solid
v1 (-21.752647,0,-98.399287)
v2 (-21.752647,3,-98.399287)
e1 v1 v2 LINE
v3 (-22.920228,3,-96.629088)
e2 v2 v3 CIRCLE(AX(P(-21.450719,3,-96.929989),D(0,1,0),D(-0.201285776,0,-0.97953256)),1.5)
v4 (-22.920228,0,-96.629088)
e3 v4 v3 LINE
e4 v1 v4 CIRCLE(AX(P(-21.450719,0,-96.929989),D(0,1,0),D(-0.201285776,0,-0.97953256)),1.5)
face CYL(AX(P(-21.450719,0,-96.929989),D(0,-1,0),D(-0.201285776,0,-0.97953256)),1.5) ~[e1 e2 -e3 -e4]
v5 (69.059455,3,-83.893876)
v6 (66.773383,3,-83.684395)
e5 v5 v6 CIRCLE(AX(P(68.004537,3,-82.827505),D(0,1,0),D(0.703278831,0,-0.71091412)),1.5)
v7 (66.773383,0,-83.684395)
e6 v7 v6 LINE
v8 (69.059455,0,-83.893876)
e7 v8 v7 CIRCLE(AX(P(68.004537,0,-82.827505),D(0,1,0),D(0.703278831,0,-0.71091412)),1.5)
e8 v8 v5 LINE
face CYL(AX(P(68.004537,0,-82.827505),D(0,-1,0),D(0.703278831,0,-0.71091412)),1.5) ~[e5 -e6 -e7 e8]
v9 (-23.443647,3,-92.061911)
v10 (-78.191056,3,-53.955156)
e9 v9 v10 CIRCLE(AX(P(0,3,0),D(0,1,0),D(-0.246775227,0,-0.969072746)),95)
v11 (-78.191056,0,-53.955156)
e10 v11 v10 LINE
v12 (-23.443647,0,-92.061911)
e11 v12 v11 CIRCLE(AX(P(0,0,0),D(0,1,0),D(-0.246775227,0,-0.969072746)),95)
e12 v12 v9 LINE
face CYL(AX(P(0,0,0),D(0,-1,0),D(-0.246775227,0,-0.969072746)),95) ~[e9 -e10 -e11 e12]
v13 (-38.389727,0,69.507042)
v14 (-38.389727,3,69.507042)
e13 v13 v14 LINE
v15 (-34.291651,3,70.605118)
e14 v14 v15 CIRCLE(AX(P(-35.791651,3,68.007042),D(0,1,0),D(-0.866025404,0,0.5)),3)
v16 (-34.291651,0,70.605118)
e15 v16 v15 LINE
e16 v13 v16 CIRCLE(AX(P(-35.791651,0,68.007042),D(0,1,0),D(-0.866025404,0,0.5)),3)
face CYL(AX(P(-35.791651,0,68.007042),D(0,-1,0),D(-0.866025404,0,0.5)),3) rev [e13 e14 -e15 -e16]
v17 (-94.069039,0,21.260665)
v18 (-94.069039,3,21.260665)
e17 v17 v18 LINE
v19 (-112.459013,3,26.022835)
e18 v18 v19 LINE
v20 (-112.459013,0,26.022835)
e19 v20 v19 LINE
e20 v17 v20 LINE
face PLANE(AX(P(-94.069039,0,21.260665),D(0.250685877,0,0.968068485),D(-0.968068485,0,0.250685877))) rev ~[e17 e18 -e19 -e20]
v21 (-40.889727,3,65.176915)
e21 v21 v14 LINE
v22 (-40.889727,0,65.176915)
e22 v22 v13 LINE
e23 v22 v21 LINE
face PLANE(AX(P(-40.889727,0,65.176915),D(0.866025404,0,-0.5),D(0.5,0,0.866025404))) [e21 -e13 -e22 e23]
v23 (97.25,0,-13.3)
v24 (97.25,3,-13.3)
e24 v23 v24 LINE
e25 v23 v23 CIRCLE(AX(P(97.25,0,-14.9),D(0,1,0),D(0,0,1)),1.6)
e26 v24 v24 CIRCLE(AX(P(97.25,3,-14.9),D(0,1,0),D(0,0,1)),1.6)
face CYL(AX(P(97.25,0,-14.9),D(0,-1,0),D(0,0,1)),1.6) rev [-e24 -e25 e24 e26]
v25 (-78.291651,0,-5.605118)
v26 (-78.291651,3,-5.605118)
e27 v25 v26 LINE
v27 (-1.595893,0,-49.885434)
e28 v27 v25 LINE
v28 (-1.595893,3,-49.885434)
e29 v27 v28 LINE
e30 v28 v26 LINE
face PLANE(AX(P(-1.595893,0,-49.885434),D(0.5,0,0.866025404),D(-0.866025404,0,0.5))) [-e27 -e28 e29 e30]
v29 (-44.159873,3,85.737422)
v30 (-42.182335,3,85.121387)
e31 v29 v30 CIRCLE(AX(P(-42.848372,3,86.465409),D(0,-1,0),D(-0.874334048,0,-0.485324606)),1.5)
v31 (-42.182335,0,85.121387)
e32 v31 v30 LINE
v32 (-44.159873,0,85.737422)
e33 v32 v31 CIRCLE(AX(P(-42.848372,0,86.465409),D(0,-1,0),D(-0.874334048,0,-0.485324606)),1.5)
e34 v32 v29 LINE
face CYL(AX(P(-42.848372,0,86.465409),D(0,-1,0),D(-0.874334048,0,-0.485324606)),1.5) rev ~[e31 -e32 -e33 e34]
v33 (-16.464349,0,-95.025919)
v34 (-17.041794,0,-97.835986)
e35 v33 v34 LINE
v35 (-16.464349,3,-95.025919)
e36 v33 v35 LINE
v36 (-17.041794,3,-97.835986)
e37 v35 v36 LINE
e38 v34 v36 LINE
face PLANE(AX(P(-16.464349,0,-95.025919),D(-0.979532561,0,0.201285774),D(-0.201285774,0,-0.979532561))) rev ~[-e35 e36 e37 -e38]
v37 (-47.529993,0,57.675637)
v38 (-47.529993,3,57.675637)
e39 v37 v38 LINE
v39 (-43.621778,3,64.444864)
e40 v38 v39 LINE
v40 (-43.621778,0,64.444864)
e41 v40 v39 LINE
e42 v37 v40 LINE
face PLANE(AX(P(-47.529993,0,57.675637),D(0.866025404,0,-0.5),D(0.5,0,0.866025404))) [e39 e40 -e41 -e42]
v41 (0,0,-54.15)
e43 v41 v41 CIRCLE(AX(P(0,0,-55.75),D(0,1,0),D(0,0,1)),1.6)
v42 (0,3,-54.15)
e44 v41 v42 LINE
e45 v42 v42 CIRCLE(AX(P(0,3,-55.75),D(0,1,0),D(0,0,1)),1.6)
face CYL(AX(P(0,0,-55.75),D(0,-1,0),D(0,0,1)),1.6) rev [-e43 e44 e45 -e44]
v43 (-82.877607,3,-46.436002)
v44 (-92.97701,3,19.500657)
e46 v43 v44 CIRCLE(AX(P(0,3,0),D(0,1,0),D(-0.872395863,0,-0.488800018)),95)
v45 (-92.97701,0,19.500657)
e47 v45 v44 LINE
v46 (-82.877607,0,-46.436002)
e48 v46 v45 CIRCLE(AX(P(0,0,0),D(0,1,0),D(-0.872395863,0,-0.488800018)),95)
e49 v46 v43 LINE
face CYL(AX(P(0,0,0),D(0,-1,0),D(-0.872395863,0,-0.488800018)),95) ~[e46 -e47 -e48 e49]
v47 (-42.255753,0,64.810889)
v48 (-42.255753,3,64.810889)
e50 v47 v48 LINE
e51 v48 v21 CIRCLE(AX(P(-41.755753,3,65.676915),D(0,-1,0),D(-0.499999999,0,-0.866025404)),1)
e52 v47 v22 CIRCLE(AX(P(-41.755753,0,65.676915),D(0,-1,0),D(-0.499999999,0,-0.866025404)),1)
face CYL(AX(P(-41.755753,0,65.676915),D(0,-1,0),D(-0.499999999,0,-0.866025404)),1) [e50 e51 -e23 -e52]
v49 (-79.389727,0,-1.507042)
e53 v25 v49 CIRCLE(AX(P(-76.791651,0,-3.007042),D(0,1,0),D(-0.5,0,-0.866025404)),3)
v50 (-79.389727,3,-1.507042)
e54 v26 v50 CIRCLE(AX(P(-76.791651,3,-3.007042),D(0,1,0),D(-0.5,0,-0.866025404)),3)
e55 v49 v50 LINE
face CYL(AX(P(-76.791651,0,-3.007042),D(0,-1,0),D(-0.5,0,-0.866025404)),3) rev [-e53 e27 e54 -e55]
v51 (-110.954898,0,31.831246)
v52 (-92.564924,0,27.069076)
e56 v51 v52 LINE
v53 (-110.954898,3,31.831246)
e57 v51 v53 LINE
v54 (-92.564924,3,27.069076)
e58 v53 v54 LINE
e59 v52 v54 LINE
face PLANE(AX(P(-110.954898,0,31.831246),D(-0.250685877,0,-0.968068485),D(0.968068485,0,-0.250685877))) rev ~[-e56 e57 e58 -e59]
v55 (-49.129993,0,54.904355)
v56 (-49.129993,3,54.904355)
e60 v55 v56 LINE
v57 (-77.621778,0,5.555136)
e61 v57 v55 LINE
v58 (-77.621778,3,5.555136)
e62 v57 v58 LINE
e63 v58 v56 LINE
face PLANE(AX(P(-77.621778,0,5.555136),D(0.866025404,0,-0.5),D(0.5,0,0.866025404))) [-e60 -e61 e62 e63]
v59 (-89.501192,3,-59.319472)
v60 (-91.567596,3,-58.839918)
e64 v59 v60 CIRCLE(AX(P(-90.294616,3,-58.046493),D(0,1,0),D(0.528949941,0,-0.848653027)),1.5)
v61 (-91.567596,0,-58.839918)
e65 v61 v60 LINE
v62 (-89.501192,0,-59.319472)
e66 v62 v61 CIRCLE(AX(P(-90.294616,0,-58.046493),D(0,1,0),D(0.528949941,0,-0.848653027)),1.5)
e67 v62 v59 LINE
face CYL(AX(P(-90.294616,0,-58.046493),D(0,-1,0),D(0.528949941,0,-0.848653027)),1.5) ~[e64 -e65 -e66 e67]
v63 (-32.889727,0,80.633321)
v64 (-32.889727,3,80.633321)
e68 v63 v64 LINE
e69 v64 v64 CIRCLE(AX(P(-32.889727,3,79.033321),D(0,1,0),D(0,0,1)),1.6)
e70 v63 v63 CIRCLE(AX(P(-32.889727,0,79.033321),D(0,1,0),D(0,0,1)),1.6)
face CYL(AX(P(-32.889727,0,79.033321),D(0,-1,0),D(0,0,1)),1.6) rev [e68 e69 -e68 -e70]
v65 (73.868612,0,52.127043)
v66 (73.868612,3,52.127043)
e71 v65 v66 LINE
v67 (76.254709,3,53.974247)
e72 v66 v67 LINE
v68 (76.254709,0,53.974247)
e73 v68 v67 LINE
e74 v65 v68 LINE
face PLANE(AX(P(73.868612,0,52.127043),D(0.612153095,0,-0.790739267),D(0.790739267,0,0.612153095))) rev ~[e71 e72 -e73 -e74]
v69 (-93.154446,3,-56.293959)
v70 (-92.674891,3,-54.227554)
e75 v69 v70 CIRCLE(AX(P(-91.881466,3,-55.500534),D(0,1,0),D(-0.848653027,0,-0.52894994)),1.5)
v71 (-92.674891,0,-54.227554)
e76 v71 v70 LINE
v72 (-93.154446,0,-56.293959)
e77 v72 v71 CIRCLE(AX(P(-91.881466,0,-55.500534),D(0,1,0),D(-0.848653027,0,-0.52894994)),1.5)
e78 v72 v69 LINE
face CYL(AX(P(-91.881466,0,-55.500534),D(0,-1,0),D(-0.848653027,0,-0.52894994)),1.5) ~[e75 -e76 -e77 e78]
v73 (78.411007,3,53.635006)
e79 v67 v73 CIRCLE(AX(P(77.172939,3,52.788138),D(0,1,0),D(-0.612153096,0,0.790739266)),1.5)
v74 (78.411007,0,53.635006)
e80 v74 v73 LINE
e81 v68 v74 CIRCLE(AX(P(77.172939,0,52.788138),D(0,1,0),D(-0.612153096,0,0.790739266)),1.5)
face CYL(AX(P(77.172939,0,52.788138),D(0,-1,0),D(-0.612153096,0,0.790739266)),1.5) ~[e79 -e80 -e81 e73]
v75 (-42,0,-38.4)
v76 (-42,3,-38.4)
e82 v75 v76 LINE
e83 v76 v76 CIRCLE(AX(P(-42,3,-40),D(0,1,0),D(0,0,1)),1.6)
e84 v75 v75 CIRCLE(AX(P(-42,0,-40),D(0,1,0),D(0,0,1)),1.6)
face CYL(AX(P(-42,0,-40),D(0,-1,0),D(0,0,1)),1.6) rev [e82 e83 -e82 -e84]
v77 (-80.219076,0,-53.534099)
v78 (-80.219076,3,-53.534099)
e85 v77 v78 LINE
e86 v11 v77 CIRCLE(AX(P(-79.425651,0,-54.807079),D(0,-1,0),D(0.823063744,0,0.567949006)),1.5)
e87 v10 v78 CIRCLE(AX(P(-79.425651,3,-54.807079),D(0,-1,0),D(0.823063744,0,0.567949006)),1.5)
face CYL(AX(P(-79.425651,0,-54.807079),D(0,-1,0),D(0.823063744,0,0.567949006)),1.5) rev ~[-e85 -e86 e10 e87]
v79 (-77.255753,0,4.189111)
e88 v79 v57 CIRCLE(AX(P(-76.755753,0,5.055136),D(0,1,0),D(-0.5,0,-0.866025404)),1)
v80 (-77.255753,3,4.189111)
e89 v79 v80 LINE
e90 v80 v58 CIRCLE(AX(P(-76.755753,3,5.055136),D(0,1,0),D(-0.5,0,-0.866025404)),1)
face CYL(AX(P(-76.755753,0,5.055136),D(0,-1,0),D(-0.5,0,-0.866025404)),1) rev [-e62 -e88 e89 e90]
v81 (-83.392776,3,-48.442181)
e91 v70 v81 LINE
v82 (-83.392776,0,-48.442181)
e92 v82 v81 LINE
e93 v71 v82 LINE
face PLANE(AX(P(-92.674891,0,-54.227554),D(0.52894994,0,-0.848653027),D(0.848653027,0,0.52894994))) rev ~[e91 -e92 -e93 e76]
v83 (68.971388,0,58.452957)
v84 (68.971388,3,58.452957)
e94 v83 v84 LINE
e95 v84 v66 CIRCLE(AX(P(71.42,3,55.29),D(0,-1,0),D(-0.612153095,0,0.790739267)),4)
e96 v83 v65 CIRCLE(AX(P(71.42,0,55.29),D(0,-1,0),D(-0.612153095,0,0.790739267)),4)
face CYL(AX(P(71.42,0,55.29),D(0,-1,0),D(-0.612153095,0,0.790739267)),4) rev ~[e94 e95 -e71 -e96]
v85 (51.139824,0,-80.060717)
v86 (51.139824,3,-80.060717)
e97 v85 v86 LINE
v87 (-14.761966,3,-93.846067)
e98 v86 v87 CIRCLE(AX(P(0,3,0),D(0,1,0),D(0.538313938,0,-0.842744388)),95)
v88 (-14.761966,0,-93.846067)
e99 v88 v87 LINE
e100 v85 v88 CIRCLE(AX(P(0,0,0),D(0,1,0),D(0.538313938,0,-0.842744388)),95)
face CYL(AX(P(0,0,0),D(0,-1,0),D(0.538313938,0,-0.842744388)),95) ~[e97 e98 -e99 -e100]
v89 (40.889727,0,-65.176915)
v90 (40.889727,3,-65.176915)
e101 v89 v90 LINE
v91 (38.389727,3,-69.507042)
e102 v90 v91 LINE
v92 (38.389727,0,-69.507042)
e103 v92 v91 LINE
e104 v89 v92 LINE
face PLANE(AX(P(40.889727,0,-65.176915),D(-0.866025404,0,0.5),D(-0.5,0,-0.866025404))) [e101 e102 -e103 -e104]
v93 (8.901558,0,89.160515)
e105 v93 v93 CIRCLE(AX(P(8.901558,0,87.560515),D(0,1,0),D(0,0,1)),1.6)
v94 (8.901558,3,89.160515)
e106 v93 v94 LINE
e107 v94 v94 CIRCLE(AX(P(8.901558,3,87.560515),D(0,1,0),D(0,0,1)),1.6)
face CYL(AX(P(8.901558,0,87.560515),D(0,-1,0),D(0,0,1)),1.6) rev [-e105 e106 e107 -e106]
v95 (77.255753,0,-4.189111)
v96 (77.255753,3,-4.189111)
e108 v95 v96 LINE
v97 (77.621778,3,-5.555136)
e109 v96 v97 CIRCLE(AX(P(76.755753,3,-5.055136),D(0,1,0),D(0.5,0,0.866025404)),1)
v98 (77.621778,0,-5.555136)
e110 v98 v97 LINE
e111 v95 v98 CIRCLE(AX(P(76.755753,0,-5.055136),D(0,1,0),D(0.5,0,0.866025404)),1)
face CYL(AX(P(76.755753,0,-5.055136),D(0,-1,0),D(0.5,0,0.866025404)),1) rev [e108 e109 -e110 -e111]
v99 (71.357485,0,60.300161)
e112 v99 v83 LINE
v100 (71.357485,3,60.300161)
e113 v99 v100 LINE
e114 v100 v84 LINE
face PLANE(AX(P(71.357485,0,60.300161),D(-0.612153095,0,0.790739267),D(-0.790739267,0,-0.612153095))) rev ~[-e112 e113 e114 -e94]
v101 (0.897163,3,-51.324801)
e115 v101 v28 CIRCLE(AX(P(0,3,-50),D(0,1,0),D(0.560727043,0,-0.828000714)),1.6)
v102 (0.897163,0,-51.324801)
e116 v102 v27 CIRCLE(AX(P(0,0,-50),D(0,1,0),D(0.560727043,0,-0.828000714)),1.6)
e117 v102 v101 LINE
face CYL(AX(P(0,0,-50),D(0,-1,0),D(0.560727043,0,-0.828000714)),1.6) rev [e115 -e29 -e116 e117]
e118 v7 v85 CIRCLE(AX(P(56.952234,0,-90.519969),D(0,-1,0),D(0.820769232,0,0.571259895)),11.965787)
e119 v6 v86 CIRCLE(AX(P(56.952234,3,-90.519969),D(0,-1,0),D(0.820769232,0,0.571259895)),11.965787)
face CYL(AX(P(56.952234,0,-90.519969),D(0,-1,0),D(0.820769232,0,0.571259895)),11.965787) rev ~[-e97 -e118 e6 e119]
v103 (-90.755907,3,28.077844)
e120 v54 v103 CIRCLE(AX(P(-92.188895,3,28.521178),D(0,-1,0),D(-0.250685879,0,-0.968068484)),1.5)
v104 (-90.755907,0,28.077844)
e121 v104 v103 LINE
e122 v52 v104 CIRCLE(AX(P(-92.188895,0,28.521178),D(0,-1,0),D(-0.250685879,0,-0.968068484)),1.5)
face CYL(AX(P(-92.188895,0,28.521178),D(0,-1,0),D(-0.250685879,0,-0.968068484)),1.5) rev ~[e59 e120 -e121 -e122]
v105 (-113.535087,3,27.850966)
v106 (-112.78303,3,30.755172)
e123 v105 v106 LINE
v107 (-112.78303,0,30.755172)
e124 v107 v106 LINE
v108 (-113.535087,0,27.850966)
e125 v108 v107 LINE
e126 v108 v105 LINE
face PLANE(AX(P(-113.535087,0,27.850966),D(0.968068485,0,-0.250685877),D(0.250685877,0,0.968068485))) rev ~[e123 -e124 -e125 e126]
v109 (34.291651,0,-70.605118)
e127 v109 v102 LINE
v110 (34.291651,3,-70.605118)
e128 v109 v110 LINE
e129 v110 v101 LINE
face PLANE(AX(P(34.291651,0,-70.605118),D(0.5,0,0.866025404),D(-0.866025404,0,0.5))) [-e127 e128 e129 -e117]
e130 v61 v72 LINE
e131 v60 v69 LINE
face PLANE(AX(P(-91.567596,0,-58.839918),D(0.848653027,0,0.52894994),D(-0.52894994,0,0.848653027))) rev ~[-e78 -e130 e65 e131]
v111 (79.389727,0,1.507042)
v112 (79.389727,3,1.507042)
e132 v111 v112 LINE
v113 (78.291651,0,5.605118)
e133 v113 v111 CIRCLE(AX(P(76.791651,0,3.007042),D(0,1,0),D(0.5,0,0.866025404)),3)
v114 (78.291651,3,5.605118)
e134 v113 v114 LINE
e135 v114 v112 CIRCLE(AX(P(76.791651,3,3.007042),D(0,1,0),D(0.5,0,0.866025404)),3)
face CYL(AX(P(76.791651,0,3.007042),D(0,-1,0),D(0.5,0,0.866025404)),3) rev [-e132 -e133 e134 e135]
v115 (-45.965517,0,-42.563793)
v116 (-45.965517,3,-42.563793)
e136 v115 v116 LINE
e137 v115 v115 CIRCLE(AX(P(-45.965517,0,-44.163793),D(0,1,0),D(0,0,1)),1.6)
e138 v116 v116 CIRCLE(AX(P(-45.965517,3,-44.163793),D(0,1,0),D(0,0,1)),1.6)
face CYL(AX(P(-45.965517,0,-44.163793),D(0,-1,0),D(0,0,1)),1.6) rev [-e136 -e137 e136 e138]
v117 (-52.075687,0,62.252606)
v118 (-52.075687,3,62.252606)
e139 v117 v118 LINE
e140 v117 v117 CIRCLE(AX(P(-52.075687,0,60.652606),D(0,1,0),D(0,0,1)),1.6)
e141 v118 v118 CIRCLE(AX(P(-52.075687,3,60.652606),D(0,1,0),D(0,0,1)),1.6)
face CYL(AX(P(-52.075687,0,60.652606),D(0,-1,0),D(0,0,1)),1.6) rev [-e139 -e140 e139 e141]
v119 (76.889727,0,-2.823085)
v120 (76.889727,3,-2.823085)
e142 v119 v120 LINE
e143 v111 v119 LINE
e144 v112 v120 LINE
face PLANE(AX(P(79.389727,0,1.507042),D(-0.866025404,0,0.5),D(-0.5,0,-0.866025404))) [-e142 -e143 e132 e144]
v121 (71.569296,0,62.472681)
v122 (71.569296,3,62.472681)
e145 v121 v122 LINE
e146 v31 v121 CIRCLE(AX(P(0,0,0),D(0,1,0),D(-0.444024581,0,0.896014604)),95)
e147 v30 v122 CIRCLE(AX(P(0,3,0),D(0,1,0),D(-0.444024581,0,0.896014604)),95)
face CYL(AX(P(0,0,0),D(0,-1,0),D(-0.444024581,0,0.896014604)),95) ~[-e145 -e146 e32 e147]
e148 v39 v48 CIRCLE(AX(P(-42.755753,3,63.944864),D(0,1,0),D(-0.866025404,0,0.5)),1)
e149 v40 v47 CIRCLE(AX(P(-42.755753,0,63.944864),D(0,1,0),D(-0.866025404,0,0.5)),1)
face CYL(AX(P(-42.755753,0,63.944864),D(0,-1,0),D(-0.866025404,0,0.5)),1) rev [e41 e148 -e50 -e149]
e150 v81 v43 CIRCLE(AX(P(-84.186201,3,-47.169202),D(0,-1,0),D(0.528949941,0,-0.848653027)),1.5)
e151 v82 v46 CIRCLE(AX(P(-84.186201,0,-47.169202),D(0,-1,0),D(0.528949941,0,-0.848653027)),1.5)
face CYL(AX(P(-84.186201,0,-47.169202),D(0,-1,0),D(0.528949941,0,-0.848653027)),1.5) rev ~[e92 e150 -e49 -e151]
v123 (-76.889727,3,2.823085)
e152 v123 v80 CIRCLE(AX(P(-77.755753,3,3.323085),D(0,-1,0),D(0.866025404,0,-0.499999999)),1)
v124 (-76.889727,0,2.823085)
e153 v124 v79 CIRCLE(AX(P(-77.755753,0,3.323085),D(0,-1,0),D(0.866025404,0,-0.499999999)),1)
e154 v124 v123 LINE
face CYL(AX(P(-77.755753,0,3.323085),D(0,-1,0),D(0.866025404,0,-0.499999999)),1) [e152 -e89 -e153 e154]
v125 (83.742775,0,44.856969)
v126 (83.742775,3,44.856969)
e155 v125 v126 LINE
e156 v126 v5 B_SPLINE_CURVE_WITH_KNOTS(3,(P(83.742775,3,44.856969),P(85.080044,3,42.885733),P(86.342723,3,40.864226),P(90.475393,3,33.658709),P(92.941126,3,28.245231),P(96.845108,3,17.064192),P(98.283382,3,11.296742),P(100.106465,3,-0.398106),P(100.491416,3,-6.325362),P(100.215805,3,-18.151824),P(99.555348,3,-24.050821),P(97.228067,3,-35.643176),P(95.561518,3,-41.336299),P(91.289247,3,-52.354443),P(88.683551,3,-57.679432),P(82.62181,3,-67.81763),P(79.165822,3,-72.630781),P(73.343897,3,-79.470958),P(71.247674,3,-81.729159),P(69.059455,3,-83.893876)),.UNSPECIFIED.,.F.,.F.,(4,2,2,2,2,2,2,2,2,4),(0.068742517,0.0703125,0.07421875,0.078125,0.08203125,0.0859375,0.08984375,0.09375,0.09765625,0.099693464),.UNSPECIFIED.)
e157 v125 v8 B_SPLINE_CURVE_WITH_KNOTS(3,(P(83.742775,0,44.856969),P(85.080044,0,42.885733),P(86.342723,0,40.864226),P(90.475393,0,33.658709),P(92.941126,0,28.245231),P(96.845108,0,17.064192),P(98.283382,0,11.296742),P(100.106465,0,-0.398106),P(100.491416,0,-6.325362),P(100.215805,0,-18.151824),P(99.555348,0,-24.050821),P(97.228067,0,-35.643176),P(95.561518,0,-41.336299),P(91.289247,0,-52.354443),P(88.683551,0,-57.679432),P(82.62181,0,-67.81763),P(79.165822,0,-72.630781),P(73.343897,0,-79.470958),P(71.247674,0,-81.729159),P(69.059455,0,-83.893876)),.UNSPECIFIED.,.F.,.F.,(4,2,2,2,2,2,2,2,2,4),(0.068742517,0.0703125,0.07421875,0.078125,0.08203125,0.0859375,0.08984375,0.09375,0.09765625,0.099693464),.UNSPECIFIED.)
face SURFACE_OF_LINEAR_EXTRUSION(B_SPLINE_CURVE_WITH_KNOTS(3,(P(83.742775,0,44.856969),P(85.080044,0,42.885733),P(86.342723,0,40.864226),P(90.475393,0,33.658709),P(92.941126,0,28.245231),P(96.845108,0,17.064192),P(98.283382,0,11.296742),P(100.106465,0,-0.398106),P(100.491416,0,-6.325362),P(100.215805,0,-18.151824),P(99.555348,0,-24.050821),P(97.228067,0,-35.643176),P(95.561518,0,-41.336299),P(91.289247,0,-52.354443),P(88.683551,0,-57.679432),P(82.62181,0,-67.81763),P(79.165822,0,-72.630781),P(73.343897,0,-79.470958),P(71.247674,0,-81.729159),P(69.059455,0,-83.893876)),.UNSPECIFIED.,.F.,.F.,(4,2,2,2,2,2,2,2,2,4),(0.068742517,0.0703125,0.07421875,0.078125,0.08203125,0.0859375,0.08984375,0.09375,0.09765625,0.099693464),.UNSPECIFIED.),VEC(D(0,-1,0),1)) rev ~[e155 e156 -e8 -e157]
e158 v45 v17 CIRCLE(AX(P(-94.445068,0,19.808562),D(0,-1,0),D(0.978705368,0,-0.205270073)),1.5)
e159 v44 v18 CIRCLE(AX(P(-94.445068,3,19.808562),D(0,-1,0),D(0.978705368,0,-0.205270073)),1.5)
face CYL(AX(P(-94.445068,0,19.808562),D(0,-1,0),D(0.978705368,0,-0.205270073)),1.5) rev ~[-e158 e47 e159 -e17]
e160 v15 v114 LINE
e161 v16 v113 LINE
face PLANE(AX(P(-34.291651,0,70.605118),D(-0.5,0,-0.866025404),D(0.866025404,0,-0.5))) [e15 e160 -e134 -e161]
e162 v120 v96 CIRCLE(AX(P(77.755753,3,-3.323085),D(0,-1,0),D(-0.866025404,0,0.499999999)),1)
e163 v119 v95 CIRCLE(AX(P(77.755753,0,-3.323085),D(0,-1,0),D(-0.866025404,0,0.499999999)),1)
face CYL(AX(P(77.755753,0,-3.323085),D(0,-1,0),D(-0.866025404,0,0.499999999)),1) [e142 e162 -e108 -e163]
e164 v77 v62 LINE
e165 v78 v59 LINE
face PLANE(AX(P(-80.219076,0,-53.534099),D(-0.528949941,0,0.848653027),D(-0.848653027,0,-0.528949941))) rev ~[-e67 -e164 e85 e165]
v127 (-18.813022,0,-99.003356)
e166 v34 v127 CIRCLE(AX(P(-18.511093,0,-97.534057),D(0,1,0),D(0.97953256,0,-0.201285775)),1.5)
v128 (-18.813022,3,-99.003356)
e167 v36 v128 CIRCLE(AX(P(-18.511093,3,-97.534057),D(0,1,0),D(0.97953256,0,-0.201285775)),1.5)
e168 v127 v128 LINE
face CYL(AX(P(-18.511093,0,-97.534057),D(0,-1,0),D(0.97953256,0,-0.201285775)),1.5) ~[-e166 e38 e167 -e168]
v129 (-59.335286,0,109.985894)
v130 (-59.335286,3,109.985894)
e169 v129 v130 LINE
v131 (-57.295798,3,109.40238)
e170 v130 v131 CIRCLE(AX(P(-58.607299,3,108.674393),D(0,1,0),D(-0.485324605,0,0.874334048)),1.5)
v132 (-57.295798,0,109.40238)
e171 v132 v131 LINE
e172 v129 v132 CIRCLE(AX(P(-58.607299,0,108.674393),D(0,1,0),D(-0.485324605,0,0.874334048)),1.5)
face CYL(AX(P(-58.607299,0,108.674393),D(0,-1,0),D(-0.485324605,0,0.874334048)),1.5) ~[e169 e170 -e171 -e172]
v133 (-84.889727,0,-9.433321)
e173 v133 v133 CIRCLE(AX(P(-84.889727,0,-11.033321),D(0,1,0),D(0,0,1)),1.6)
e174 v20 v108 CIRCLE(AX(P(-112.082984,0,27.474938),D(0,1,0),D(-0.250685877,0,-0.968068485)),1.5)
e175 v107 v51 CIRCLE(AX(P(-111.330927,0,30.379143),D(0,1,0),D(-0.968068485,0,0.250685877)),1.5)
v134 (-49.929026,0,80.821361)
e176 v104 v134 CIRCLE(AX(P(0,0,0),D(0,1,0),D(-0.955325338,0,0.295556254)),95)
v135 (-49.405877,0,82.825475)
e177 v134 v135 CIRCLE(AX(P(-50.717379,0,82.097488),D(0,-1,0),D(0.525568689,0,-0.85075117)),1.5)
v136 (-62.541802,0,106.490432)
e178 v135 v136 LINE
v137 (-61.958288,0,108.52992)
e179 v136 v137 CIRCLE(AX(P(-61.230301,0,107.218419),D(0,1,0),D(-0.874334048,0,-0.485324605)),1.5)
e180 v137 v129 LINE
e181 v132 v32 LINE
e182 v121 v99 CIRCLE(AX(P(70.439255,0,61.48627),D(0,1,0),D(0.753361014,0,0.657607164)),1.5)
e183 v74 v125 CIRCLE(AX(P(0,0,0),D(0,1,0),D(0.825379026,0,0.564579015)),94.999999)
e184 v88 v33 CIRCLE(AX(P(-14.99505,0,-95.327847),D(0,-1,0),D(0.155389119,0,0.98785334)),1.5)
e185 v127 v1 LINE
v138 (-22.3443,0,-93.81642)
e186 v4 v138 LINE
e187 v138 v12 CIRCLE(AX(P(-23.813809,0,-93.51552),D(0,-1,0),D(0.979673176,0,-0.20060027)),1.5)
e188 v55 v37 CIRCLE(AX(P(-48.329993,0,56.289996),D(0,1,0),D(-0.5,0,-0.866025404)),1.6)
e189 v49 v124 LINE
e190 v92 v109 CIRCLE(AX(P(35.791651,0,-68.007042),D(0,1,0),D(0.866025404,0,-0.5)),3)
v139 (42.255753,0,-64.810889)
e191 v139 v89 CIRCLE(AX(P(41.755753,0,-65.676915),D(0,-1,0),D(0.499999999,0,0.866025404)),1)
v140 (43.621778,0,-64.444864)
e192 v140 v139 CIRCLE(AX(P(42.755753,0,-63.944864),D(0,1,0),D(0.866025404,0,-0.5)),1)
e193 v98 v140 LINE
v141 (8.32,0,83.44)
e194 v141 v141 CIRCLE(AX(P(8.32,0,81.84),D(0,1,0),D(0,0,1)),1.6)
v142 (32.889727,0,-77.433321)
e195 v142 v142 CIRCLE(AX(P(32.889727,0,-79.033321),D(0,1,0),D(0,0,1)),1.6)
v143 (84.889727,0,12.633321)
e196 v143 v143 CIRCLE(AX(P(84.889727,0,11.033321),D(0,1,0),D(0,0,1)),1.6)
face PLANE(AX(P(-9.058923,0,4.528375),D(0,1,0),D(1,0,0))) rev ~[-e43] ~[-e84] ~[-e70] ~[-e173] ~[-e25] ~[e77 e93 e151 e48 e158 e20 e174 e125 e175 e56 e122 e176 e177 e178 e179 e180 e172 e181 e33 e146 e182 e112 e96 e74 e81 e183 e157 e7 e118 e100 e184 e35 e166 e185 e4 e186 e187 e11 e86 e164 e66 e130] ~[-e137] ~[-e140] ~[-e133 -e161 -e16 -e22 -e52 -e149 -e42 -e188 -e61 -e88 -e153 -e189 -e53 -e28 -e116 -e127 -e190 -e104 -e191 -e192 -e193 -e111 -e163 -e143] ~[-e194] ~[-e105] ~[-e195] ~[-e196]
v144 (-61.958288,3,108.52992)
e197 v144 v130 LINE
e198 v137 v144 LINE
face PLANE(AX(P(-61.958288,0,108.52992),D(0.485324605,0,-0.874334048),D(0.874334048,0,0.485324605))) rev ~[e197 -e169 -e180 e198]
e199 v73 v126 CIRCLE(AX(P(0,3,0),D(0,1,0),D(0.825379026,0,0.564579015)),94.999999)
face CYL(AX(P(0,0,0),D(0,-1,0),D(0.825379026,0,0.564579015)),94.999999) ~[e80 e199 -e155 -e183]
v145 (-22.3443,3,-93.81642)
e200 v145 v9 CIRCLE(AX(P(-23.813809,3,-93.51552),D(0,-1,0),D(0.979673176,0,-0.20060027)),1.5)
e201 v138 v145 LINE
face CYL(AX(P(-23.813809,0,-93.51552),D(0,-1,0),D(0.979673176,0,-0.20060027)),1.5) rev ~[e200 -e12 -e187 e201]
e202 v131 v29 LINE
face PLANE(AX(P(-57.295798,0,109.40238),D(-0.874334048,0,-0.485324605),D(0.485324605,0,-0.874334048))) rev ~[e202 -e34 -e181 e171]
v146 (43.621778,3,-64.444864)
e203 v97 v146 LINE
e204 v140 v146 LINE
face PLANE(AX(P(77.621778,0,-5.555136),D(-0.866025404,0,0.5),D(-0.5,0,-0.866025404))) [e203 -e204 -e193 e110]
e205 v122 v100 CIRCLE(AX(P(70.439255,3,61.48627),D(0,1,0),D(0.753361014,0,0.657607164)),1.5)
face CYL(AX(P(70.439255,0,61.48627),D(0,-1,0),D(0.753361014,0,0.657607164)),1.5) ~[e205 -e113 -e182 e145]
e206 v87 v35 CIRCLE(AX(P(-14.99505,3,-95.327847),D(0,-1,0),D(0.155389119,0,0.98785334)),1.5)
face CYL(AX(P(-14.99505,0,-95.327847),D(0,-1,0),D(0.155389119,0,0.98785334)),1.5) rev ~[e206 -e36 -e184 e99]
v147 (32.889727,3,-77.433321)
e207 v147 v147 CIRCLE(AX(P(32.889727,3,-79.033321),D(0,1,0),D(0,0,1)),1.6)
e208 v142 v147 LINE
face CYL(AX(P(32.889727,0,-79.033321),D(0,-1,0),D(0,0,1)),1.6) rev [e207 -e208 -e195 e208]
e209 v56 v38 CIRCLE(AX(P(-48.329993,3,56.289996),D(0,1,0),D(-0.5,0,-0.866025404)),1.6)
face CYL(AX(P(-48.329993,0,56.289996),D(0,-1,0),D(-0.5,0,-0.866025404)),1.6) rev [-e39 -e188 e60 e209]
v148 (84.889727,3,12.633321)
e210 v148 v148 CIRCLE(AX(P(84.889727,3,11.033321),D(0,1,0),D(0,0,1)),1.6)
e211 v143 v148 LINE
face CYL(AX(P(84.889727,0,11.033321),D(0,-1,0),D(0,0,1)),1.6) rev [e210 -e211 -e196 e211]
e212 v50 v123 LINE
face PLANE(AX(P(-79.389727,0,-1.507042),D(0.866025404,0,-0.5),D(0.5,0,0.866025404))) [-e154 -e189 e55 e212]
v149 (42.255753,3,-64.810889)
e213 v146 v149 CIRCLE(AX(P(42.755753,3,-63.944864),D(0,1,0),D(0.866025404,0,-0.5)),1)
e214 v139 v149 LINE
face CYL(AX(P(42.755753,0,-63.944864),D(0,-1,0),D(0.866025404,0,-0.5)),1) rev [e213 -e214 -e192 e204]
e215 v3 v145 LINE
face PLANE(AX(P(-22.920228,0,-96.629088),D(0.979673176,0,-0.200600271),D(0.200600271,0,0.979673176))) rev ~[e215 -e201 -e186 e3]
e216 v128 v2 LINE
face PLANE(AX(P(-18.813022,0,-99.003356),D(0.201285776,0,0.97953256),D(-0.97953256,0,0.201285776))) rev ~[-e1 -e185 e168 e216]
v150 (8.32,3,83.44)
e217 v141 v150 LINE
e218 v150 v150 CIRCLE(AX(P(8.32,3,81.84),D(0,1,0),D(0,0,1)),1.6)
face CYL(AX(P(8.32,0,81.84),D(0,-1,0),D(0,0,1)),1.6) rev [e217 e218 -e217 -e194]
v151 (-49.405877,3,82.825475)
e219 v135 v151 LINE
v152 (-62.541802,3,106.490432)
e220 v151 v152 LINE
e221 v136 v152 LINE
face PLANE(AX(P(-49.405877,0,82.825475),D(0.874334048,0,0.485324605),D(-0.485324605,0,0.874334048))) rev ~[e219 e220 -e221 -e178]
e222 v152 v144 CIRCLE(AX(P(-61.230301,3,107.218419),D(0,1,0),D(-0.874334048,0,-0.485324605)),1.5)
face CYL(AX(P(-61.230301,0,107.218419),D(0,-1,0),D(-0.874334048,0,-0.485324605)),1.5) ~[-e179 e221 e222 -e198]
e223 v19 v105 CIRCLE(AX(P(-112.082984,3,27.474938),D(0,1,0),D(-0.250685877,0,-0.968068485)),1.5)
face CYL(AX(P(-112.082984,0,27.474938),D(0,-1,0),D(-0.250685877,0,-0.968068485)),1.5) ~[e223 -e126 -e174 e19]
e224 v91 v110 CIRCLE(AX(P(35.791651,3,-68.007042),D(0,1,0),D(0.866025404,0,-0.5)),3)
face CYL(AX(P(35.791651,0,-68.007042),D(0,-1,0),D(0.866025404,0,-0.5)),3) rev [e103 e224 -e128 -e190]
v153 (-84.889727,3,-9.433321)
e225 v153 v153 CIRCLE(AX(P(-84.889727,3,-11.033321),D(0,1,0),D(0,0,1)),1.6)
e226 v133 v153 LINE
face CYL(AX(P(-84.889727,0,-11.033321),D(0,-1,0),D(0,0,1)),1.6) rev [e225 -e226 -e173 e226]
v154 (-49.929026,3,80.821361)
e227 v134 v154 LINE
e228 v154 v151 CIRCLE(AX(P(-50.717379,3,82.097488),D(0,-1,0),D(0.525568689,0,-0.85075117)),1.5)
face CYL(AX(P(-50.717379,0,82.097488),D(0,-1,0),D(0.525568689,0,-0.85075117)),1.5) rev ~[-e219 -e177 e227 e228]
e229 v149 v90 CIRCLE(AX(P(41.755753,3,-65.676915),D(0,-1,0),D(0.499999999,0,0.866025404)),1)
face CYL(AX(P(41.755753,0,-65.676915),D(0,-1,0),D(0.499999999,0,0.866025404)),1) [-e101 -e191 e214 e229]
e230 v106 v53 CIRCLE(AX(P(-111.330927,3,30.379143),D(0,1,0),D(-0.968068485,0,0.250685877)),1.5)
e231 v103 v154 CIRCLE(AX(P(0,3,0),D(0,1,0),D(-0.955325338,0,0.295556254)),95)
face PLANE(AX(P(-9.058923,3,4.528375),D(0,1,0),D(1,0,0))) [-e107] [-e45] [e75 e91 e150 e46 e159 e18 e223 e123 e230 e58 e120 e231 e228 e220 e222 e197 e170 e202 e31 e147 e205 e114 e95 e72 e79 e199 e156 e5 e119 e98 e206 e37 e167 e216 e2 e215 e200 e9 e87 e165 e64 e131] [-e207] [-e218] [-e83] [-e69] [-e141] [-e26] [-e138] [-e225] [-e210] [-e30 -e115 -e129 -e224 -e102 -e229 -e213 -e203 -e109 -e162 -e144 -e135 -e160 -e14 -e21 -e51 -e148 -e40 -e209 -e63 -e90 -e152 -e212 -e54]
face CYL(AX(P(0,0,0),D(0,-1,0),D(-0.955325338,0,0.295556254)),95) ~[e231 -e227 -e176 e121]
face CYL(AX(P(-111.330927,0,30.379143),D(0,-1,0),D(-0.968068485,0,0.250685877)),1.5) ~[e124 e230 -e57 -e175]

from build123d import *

# Parameters (mm, degrees)
SKIZZE3_R                       = 1.6
AUFSATZ_LINEAR_AUSTRAGEN2_DEPTH = 3


with BuildPart() as part:
    # Skizze3 → Aufsatz-Linear austragen2 (new body)
    with BuildSketch(Plane(origin=(0, 0, 0), x_dir=(1, 0, 0), z_dir=(0, 1, 0))):
        with BuildLine():
            Line((-22.920228343, 96.629088178), (-22.344299626, 93.816420414))
            ThreePointArc((-22.344299626, 93.816420414), (-22.542717442, 92.719074618), (-23.44364655, 92.061910889))
            ThreePointArc((-23.44364655, 92.061910889), (-54.271856221, 77.97156932), (-78.191055718, 53.955155506))
            ThreePointArc((-78.191055718, 53.955155506), (-79.120725207, 53.338399316), (-80.219076246, 53.534099474))
            Line((-80.219076246, 53.534099474), (-89.501191513, 59.319472491))
            ThreePointArc((-89.501191513, 59.319472491), (-90.633712755, 59.507661551), (-91.567595966, 58.839917861))
            Line((-91.567595966, 58.839917861), (-93.154445785, 56.293958781))
            ThreePointArc((-93.154445785, 56.293958781), (-93.342634844, 55.161437539), (-92.674891154, 54.22755433))
            Line((-92.674891154, 54.22755433), (-83.39277588, 48.44218132))
            ThreePointArc((-83.39277588, 48.44218132), (-82.733338177, 47.542283842), (-82.877606996, 46.436001751))
            ThreePointArc((-82.877606996, 46.436001751), (-93.904857786, 14.383243174), (-92.977009936, -19.500656997))
            ThreePointArc((-92.977009936, -19.500656997), (-93.170481392, -20.599402805), (-94.069039172, -21.260664834))
            Line((-94.069039172, -21.260664834), (-112.45901324, -26.02283492))
            ThreePointArc((-112.45901324, -26.02283492), (-113.375668635, -26.714038487), (-113.535087151, -27.850966463))
            Line((-113.535087151, -27.850966463), (-112.78302952, -30.755171917))
            ThreePointArc((-112.78302952, -30.755171917), (-112.091825953, -31.671827312), (-110.954897977, -31.831245829))
            Line((-110.954897977, -31.831245829), (-92.56492391, -27.069075743))
            ThreePointArc((-92.56492391, -27.069075743), (-91.458351408, -27.211099875), (-90.755907088, -28.077844089))
            ThreePointArc((-90.755907088, -28.077844089), (-75.123446485, -58.150389407), (-49.929025507, -80.821361112))
            ThreePointArc((-49.929025507, -80.821361112), (-49.266012044, -81.71862735), (-49.405877469, -82.825474774))
            Line((-49.405877469, -82.825474774), (-62.541801916, -106.490431951))
            ThreePointArc((-62.541801916, -106.490431951), (-62.672436625, -107.631025681), (-61.958287752, -108.529919931))
            Line((-61.958287752, -108.529919931), (-59.335285607, -109.985893746))
            ThreePointArc((-59.335285607, -109.985893746), (-58.194691877, -110.116528455), (-57.295797627, -109.402379582))
            Line((-57.295797627, -109.402379582), (-44.159873181, -85.737422405))
            ThreePointArc((-44.159873181, -85.737422405), (-43.294500776, -85.033288783), (-42.182335236, -85.121387406))
            ThreePointArc((-42.182335236, -85.121387406), (18.550993294, -93.171136345), (71.569296393, -62.47268054))
            ThreePointArc((71.569296393, -62.47268054), (71.9321762, -61.340716002), (71.357484514, -60.300160894))
            Line((71.357484514, -60.300160894), (68.971387619, -58.452957067))
            ThreePointArc((68.971387619, -58.452957067), (68.257042933, -52.841387619), (73.868612381, -52.127042933))
            Line((73.868612381, -52.127042933), (76.254709276, -53.97424676))
            ThreePointArc((76.254709276, -53.97424676), (77.40605957, -54.269912054), (78.411007457, -53.635006381))
            ThreePointArc((78.411007457, -53.635006381), (81.195601848, -49.318092427), (83.742774792, -44.856969025))
            add(Edge.make_bspline(
                [(83.742774792, -44.856969025), (85.080044201, -42.885733183), (86.342723056, -40.864226462), (90.475393107, -33.658708882), (92.941125683, -28.24523113), (96.845107593, -17.06419167), (98.283381771, -11.296742285), (100.106464604, 0.398106312), (100.491415891, 6.325362035), (100.215805302, 18.151824424), (99.555347906, 24.050820899), (97.228067455, 35.64317623), (95.561517803, 41.336299316), (91.289247265, 52.354443321), (88.683550867, 57.679431674), (82.621810162, 67.817630372), (79.16582226, 72.63078095), (73.343896748, 79.470957727), (71.24767403, 81.729158793), (69.059455254, 83.893875883)],
                knots=[0.068742517, 0.068742517, 0.068742517, 0.068742517, 0.0703125, 0.0703125, 0.07421875, 0.07421875, 0.078125, 0.078125, 0.08203125, 0.08203125, 0.0859375, 0.0859375, 0.08984375, 0.08984375, 0.09375, 0.09375, 0.09765625, 0.09765625, 0.099693464, 0.099693464, 0.099693464, 0.099693464], degree=3))
            ThreePointArc((69.059455254, 83.893875883), (67.867659856, 84.321246531), (66.773383158, 83.684394547))
            ThreePointArc((66.773383158, 83.684394547), (59.654132804, 78.863219836), (51.13982414, 80.060716878))
            ThreePointArc((51.13982414, 80.060716878), (19.451120952, 92.98738567), (-14.761966333, 93.846067312))
            ThreePointArc((-14.761966333, 93.846067312), (-15.84949093, 94.09499262), (-16.464348853, 95.025918661))
            Line((-16.464348853, 95.025918661), (-17.041794218, 97.835985787))
            ThreePointArc((-17.041794218, 97.835985787), (-17.68563769, 98.786504104), (-18.813021723, 99.003355966))
            Line((-18.813021723, 99.003355966), (-21.752647244, 98.399287425))
            ThreePointArc((-21.752647244, 98.399287425), (-22.702876664, 97.75588212), (-22.920228343, 96.629088178))
        make_face()
        with Locations(Location((-84.889727457, 11.033320997, 0), (0, 0, 270))):
            Circle(SKIZZE3_R, mode=Mode.SUBTRACT)
        with Locations(Location((32.889727457, 79.033320997, 0), (0, 0, 270))):
            Circle(SKIZZE3_R, mode=Mode.SUBTRACT)
        with Locations(Location((84.889727457, -11.033320997, 0), (0, 0, 270))):
            Circle(SKIZZE3_R, mode=Mode.SUBTRACT)
        with Locations(Location((-32.889727457, -79.033320997, 0), (0, 0, 270))):
            Circle(SKIZZE3_R, mode=Mode.SUBTRACT)
        with Locations(Location((97.25, 14.9, 0), (0, 0, 270))):
            Circle(SKIZZE3_R, mode=Mode.SUBTRACT)
        with Locations(Location((8.32, -81.84, 0), (0, 0, 270))):
            Circle(SKIZZE3_R, mode=Mode.SUBTRACT)
        with Locations(Location((-42, 40, 0), (0, 0, 270))):
            Circle(SKIZZE3_R, mode=Mode.SUBTRACT)
        with Locations(Location((0, 55.75, 0), (0, 0, 270))):
            Circle(SKIZZE3_R, mode=Mode.SUBTRACT)
        with Locations(Location((-45.965517241, 44.163793104, 0), (0, 0, 270))):
            Circle(SKIZZE3_R, mode=Mode.SUBTRACT)
        with Locations(Location((-52.075687148, -60.652605619, 0), (0, 0, 270))):
            Circle(SKIZZE3_R, mode=Mode.SUBTRACT)
        with Locations(Location((8.901557721, -87.560514891, 0), (0, 0, 270))):
            Circle(SKIZZE3_R, mode=Mode.SUBTRACT)
        with BuildLine():
            Line((-1.595893079, 49.88543439), (-78.291651246, 5.605117767))
            ThreePointArc((-78.291651246, 5.605117767), (-79.689428725, 3.78349869), (-79.389727457, 1.507041555))
            Line((-79.389727457, 1.507041555), (-76.889727457, -2.823085464))
            ThreePointArc((-76.889727457, -2.823085464), (-76.789827035, -3.581904509), (-77.255752861, -4.189110868))
            ThreePointArc((-77.255752861, -4.189110868), (-77.721678687, -4.796317226), (-77.621778265, -5.555136271))
            Line((-77.621778265, -5.555136271), (-49.129993275, -54.904355472))
            ThreePointArc((-49.129993275, -54.904355472), (-49.715633921, -57.089996118), (-47.529993275, -57.675636764))
            Line((-47.529993275, -57.675636764), (-43.621778265, -64.444863729))
            ThreePointArc((-43.621778265, -64.444863729), (-43.014571906, -64.910789555), (-42.255752861, -64.810889132))
            ThreePointArc((-42.255752861, -64.810889132), (-41.496933816, -64.71098871), (-40.889727457, -65.176914536))
            Line((-40.889727457, -65.176914536), (-38.389727457, -69.507041555))
            ThreePointArc((-38.389727457, -69.507041555), (-36.568108381, -70.904819034), (-34.291651246, -70.605117767))
            Line((-34.291651246, -70.605117767), (78.291651246, -5.605117767))
            ThreePointArc((78.291651246, -5.605117767), (79.689428725, -3.78349869), (79.389727457, -1.507041555))
            Line((79.389727457, -1.507041555), (76.889727457, 2.823085464))
            ThreePointArc((76.889727457, 2.823085464), (76.789827035, 3.581904509), (77.255752861, 4.189110868))
            ThreePointArc((77.255752861, 4.189110868), (77.721678687, 4.796317226), (77.621778265, 5.555136271))
            Line((77.621778265, 5.555136271), (43.621778265, 64.444863729))
            ThreePointArc((43.621778265, 64.444863729), (43.014571906, 64.910789555), (42.255752861, 64.810889132))
            ThreePointArc((42.255752861, 64.810889132), (41.496933816, 64.71098871), (40.889727457, 65.176914536))
            Line((40.889727457, 65.176914536), (38.389727457, 69.507041555))
            ThreePointArc((38.389727457, 69.507041555), (36.568108381, 70.904819034), (34.291651246, 70.605117767))
            Line((34.291651246, 70.605117767), (0.897163269, 51.324801143))
            ThreePointArc((0.897163269, 51.324801143), (-0.8, 51.385640646), (-1.595893079, 49.88543439))
        make_face(mode=Mode.SUBTRACT)
    extrude(amount=AUFSATZ_LINEAR_AUSTRAGEN2_DEPTH)


solid = part.part
